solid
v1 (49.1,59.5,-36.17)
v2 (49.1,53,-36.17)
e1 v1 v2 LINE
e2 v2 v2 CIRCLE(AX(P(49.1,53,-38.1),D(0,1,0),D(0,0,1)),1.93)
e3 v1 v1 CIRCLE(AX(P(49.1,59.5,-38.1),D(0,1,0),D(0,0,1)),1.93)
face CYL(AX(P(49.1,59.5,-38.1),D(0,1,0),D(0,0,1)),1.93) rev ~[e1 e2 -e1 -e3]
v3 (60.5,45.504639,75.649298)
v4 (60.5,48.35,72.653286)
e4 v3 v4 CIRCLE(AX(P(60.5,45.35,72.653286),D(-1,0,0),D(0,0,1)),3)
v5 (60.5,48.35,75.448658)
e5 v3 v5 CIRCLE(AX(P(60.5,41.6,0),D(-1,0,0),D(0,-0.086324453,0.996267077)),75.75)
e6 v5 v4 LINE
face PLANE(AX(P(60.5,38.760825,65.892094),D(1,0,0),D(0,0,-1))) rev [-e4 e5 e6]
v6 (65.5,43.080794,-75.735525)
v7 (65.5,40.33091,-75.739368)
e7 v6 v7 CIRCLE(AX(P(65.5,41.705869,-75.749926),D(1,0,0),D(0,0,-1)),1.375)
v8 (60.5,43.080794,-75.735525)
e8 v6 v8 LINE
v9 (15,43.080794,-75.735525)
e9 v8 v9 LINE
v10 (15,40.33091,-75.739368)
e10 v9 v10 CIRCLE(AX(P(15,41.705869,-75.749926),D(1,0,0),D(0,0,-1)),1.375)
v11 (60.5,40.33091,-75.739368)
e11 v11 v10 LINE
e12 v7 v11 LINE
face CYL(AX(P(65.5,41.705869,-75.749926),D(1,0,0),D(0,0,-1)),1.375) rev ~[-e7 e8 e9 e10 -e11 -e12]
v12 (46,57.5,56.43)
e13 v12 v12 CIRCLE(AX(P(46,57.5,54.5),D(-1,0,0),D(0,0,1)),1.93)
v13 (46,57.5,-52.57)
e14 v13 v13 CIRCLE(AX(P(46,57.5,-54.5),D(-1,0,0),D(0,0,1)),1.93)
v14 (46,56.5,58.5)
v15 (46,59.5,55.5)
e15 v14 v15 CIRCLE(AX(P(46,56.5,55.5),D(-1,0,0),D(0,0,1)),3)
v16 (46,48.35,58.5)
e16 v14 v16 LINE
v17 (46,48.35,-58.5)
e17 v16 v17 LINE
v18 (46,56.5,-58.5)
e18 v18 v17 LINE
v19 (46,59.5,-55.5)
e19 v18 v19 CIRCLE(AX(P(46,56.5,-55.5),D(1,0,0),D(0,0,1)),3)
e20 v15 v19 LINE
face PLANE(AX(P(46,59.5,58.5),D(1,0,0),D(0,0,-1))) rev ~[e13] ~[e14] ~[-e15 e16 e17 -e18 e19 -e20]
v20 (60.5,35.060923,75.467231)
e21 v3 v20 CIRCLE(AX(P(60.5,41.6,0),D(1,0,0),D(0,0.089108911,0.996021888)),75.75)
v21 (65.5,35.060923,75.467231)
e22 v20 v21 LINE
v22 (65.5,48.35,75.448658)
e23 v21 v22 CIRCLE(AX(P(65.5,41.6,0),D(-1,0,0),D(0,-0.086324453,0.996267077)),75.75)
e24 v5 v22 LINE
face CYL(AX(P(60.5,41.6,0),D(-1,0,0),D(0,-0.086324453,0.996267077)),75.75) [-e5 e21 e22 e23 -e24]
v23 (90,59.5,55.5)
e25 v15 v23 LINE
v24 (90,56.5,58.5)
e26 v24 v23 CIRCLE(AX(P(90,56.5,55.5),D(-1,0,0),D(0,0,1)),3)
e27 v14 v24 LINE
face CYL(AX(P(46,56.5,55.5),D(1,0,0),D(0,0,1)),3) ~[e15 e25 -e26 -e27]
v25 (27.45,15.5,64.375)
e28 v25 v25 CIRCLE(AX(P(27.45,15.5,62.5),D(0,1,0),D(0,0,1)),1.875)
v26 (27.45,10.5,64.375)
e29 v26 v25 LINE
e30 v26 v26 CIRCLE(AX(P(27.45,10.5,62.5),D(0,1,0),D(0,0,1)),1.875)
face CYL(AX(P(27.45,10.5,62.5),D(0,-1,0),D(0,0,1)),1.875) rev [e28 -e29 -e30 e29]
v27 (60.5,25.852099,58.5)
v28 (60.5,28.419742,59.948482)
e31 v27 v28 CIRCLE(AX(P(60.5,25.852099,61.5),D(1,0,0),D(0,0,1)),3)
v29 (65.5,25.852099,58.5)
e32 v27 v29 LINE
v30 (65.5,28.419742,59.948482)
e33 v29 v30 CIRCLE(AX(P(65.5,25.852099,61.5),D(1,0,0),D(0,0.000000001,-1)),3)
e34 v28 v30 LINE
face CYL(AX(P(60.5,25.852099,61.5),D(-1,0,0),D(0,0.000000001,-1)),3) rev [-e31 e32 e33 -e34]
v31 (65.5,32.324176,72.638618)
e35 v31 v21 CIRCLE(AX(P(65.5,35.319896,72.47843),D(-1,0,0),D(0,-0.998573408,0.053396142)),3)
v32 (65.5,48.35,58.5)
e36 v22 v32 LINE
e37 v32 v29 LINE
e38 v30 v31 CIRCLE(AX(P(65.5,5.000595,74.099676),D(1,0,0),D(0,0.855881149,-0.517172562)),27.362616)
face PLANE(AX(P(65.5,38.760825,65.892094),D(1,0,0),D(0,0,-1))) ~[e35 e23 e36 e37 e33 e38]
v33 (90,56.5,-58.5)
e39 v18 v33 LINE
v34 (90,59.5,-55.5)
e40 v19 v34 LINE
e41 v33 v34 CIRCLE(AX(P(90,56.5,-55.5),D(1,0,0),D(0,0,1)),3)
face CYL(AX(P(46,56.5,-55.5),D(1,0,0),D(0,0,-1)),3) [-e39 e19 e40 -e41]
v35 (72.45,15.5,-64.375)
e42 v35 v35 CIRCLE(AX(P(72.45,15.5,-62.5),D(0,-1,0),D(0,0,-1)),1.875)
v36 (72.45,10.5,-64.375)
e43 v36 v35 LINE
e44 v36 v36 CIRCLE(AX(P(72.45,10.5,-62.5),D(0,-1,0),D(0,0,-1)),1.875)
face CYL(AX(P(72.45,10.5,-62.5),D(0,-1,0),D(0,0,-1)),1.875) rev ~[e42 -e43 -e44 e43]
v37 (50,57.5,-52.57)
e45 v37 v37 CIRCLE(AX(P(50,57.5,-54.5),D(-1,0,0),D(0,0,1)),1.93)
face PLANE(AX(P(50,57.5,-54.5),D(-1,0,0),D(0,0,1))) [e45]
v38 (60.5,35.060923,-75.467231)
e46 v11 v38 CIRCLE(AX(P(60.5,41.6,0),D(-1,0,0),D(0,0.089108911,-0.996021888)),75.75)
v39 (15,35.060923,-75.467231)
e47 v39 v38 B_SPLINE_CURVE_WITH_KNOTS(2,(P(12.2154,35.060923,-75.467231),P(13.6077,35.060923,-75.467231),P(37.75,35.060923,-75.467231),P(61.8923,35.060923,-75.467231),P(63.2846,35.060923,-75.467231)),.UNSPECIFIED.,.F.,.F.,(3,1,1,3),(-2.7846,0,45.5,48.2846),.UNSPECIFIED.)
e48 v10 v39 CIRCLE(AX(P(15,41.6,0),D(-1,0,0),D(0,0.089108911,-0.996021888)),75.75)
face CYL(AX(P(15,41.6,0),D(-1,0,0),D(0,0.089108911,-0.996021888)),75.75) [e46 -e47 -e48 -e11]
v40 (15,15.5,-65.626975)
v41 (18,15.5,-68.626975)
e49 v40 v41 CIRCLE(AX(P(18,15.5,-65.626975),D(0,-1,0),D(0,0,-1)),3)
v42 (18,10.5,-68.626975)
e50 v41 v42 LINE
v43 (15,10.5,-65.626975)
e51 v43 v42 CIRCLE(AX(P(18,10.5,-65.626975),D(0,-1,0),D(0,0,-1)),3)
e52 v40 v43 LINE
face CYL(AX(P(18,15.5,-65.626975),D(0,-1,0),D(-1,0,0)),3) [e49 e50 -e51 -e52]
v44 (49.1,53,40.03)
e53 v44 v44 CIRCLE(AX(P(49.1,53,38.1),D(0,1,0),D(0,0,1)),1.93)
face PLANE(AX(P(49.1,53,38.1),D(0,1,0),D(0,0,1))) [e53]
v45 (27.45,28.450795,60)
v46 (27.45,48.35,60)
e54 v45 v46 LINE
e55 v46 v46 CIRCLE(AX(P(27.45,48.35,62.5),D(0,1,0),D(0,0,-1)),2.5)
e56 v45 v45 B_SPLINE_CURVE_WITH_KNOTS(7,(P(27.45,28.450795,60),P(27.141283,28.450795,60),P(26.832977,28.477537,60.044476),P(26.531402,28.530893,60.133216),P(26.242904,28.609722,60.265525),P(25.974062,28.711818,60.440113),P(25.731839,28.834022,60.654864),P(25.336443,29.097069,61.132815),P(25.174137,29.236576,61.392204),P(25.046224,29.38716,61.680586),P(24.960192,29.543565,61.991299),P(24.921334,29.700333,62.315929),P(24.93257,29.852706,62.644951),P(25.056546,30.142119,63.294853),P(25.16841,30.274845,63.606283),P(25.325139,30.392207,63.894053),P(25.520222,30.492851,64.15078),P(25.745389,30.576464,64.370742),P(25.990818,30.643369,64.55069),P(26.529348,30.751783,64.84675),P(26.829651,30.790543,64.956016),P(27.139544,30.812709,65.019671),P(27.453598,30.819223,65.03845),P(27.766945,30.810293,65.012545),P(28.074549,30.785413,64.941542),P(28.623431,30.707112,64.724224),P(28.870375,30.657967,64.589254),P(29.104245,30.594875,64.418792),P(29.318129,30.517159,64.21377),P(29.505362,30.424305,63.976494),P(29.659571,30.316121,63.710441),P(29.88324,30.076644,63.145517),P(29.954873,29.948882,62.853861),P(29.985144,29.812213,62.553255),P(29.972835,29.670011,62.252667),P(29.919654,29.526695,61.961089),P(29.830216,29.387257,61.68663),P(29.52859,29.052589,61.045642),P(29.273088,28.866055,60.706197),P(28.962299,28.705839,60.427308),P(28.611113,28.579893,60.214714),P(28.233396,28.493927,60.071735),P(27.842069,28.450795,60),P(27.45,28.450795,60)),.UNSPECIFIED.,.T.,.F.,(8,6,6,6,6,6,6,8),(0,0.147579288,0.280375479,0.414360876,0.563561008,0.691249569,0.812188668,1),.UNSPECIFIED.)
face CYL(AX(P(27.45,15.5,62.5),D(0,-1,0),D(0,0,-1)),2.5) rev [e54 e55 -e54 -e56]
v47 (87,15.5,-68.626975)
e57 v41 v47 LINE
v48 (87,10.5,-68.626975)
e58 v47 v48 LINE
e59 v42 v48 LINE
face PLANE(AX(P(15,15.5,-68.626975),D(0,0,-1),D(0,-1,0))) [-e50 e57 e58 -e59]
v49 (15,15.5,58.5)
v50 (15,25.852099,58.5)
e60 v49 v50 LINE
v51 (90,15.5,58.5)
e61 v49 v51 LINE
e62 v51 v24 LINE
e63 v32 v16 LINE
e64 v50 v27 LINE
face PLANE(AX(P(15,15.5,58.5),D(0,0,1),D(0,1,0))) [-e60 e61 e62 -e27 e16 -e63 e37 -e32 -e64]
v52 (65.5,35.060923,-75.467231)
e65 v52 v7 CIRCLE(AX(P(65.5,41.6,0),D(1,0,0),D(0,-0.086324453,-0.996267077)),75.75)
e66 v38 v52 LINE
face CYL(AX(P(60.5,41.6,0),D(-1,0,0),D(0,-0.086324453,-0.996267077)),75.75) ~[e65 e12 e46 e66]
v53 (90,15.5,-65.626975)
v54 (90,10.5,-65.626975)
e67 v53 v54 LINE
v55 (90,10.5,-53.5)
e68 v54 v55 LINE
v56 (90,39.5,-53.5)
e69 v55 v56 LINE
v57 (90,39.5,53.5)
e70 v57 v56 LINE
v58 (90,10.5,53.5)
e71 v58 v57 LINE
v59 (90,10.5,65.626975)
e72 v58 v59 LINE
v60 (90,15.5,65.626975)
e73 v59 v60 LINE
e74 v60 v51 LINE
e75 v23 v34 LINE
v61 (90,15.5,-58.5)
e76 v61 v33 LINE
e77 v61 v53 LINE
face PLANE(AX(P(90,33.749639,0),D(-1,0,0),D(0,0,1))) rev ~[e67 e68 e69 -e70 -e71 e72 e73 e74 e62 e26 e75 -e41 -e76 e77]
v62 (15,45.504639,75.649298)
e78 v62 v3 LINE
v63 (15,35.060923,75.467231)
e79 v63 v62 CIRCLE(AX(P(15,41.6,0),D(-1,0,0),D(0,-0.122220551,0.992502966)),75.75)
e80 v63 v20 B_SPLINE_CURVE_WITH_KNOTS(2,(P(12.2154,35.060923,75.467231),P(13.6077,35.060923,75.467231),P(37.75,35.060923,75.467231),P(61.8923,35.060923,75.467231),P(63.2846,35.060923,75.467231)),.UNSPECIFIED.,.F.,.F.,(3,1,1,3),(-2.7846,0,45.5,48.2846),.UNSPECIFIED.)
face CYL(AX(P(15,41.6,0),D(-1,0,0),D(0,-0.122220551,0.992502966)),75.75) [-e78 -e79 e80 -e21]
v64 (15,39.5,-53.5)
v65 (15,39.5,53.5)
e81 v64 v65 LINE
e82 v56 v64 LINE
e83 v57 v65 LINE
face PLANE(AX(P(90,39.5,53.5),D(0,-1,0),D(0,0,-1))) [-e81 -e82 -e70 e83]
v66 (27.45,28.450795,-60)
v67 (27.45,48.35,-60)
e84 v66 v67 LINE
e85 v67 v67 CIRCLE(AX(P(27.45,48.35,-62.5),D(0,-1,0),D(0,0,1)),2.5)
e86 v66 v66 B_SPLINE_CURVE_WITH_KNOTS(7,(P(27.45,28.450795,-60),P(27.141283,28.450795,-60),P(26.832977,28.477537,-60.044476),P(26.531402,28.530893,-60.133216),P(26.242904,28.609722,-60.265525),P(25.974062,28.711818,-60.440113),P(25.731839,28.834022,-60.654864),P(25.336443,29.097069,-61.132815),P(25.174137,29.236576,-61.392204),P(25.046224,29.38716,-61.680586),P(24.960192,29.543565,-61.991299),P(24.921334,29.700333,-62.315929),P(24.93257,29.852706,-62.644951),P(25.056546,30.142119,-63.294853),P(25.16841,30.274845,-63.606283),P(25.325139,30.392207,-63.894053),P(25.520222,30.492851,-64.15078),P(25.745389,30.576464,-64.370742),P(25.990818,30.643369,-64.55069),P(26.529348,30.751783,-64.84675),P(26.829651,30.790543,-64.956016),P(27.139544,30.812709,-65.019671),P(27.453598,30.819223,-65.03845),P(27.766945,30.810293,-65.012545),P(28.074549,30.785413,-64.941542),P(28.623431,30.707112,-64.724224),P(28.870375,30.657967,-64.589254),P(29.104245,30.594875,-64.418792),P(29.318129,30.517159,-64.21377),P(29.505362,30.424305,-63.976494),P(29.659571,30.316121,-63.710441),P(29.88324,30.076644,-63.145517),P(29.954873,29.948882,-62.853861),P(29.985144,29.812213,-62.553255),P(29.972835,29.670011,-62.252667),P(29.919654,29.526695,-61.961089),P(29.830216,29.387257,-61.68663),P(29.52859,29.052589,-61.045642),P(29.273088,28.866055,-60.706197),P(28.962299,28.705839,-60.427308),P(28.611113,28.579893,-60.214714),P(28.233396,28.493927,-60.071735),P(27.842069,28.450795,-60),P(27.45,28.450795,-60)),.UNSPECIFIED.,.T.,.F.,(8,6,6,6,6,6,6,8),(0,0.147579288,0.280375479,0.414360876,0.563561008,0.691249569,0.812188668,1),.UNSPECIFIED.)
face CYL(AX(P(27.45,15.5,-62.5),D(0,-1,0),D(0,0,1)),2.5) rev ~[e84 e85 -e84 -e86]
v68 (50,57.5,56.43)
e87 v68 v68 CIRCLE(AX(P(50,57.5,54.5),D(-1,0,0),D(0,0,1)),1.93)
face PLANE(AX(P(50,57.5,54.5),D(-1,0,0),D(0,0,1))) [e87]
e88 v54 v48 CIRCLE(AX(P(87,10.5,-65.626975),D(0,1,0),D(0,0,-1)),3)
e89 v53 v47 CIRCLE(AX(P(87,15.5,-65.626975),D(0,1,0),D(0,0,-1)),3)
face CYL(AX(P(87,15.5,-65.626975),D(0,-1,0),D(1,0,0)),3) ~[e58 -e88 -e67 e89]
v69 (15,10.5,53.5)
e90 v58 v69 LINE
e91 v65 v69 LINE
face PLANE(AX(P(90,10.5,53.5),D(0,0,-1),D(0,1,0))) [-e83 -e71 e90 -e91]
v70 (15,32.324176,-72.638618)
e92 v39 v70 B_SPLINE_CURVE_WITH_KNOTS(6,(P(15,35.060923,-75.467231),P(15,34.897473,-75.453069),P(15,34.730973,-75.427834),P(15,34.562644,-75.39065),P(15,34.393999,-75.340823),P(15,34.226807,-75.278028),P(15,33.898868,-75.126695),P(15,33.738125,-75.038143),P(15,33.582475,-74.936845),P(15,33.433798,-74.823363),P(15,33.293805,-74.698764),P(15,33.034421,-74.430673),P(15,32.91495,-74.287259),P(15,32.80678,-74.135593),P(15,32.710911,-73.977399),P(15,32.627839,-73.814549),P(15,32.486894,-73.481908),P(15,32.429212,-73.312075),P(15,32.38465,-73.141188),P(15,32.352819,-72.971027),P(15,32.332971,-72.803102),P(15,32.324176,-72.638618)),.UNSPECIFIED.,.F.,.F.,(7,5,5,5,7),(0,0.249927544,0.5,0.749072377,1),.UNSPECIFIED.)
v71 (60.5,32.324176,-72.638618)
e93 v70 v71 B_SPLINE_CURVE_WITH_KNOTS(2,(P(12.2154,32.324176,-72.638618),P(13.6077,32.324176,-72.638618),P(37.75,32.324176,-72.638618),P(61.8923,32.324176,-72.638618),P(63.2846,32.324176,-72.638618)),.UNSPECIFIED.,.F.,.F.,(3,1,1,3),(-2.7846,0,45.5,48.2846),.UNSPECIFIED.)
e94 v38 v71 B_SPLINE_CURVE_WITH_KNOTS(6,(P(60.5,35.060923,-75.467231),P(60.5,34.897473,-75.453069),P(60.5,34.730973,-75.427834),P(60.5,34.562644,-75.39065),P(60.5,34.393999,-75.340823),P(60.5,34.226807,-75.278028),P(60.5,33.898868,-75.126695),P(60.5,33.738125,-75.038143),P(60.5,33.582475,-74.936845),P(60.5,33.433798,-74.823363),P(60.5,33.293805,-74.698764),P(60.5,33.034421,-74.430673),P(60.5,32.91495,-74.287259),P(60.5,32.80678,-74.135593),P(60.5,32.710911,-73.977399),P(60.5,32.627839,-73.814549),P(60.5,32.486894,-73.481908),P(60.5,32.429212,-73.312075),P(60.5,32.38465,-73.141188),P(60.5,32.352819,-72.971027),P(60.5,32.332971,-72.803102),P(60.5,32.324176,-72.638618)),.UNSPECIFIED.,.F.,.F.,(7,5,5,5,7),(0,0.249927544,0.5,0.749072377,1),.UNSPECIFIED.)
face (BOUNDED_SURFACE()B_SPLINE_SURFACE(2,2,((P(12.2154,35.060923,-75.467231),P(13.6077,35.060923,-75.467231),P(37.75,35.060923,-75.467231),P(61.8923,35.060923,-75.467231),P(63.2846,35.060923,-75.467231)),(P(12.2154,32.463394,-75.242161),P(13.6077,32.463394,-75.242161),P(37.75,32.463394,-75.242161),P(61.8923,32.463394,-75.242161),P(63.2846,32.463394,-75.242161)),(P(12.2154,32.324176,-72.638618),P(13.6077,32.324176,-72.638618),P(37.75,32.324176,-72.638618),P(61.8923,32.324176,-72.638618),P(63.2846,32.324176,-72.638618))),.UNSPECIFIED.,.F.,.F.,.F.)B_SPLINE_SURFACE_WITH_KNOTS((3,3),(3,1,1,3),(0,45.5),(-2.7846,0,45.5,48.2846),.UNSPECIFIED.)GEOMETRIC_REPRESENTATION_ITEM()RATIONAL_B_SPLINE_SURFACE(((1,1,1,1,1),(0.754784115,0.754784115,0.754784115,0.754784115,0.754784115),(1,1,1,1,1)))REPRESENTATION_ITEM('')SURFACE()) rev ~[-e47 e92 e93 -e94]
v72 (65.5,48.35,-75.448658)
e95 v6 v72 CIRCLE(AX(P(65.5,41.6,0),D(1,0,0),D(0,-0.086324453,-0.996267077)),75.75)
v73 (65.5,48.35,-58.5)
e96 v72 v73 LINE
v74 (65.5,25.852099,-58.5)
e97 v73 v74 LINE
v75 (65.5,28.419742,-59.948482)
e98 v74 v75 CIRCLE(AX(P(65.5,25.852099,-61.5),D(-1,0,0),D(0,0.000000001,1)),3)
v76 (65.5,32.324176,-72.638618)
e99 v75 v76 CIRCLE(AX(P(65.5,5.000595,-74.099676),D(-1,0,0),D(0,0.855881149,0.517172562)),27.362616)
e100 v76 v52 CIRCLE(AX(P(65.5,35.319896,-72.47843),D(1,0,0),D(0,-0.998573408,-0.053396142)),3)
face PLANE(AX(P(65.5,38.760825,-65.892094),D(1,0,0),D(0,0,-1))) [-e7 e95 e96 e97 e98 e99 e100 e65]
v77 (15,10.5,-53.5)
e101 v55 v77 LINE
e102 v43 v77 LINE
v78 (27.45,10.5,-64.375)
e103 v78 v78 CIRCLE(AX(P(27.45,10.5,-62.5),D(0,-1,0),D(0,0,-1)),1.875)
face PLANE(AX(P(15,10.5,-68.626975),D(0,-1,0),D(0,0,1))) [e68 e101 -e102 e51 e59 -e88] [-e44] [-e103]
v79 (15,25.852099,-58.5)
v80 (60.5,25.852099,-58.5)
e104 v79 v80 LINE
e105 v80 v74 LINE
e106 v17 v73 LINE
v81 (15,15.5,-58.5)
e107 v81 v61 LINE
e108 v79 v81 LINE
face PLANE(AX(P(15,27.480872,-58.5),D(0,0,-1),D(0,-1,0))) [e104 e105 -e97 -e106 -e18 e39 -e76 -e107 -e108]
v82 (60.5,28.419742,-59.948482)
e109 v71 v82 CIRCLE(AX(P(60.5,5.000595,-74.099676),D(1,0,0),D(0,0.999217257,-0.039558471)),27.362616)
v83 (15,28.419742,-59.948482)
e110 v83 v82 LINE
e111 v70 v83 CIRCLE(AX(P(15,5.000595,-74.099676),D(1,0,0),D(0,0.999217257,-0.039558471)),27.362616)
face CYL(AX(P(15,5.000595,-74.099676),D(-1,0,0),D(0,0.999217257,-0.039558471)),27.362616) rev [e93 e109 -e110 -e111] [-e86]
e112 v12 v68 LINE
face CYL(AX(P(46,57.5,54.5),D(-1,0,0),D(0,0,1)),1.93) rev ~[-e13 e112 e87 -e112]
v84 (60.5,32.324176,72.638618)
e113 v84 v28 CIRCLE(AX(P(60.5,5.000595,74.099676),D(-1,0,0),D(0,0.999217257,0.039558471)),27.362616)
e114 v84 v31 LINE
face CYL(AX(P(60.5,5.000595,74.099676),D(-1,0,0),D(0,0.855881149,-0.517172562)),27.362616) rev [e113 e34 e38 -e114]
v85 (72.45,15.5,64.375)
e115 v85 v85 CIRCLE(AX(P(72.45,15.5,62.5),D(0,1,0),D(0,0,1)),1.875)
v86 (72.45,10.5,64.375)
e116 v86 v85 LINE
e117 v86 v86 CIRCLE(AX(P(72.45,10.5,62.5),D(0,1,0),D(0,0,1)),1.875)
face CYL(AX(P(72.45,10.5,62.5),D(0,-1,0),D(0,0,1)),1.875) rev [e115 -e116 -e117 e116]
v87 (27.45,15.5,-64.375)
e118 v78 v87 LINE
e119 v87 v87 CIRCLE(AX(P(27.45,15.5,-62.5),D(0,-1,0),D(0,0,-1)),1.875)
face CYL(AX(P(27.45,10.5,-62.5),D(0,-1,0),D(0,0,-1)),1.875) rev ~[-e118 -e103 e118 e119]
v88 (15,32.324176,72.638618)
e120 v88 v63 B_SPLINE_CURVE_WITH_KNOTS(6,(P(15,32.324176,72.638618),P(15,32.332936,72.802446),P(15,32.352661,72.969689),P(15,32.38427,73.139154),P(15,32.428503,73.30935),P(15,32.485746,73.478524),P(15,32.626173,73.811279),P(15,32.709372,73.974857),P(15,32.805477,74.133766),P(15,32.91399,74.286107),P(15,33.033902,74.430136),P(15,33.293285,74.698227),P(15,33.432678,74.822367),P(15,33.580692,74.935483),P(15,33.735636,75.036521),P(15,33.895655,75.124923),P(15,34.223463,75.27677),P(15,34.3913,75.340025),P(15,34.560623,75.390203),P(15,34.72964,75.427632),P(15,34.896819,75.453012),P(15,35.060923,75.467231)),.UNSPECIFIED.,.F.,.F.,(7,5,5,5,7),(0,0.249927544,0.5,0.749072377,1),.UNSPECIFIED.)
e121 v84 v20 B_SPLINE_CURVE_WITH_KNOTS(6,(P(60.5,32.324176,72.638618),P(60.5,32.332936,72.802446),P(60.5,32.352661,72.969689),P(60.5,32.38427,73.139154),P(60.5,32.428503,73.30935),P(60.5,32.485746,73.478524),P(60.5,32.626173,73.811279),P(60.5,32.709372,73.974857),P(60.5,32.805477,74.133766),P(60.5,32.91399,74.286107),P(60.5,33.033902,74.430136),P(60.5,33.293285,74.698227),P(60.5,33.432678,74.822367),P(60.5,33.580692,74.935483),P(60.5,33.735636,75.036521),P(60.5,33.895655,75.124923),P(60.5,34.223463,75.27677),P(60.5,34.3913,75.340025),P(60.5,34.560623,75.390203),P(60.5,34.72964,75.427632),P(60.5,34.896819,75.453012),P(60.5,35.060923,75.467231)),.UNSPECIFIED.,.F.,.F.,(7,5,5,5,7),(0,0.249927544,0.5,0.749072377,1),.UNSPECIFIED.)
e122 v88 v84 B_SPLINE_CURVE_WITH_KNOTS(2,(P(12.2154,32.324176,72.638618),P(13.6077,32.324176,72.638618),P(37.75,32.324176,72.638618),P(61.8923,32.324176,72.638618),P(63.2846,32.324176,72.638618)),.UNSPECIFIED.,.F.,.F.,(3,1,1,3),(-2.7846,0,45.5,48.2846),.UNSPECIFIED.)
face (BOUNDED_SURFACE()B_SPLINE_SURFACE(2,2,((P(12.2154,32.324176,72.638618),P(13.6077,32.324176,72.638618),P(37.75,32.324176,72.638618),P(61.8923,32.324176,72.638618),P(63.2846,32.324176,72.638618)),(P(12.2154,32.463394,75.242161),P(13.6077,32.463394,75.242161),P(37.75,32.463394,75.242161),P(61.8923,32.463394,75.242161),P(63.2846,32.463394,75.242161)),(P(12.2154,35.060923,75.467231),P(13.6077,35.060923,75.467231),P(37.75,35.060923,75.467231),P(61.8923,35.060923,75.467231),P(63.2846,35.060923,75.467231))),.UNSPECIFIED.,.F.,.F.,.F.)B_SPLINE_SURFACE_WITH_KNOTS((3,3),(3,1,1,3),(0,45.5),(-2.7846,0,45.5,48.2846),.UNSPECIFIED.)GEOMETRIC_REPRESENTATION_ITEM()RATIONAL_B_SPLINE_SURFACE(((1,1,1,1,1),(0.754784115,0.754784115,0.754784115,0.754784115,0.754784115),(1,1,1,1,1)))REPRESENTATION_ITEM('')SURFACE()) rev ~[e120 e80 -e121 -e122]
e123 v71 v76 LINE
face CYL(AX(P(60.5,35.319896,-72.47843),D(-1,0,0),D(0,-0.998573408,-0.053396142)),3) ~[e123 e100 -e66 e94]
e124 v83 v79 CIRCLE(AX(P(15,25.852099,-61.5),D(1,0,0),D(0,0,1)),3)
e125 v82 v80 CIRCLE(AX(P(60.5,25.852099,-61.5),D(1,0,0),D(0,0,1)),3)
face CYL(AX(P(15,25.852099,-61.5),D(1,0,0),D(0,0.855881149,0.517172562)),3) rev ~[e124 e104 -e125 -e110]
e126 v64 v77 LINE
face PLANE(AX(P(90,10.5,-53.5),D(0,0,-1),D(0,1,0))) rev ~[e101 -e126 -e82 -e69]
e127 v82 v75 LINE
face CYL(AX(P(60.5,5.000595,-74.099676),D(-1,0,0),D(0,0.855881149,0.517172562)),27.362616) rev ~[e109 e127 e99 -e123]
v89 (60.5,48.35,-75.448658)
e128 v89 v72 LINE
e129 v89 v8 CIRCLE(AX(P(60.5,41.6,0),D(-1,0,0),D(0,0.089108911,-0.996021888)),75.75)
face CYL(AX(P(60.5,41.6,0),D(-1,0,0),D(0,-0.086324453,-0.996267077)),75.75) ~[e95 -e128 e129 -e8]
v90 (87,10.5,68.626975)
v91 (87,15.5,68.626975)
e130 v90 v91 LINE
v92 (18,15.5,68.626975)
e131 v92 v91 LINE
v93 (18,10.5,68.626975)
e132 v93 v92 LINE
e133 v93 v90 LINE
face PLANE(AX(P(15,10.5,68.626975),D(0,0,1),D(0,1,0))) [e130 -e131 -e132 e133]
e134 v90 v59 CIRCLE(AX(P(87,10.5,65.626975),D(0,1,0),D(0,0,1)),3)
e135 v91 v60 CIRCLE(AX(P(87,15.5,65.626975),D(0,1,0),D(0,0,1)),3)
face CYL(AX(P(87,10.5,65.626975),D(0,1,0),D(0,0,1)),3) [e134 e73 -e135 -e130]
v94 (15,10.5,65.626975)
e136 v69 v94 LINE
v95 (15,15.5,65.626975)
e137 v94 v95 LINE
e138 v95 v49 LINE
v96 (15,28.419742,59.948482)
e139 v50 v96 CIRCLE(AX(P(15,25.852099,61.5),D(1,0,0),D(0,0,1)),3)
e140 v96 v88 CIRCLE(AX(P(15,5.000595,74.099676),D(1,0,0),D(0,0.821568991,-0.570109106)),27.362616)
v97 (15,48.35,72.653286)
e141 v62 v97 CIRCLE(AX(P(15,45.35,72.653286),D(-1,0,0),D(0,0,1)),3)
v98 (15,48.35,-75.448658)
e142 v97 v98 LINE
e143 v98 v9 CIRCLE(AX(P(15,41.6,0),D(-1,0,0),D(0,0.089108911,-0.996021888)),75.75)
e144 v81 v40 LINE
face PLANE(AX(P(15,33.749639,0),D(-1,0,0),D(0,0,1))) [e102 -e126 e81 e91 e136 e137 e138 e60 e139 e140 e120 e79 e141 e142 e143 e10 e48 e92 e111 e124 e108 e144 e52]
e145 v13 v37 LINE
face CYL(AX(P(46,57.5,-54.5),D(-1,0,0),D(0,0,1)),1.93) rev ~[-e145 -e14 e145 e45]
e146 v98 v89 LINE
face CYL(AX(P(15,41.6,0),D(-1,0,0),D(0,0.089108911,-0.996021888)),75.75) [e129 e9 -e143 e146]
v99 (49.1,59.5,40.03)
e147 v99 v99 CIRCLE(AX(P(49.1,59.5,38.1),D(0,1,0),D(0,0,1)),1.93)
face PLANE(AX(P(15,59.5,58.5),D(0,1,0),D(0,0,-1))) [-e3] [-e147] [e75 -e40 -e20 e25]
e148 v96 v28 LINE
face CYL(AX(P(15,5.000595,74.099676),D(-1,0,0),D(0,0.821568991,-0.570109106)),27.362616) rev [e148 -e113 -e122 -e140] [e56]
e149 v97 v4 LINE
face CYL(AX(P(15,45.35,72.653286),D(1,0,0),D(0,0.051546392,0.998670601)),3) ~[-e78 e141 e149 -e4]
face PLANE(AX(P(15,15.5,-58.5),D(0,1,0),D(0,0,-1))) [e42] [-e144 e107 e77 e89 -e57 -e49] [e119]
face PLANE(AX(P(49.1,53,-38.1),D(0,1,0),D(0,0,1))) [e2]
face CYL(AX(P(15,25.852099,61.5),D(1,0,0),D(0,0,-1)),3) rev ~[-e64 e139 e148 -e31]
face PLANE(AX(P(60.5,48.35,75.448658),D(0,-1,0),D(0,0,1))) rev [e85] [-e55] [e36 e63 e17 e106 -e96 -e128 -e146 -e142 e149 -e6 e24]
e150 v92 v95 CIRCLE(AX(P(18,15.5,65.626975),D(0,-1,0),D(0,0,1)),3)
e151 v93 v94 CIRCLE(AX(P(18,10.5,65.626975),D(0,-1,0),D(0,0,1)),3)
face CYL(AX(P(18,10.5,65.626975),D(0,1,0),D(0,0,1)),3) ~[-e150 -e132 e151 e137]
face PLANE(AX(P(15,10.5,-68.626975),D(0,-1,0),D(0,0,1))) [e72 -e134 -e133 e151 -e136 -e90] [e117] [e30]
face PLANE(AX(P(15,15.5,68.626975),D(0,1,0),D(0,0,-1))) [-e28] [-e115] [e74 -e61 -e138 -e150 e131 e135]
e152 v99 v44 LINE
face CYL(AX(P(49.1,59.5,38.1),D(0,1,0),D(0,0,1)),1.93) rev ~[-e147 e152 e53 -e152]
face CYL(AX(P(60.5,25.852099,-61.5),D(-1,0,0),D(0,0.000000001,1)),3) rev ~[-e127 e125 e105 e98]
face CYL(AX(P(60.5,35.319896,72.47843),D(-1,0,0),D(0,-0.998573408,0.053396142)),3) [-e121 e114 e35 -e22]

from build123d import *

# Parameters (mm, degrees)
BOSS_EXTRUDE1_START = 15
BOSS_EXTRUDE1_DEPTH = 75
SKETCH2_W           = 107
SKETCH2_H           = 29
CUT_EXTRUDE1_DEPTH  = 123.079123932
CUT_EXTRUDE12_START = -29.5
CUT_EXTRUDE12_DEPTH = 29.5
SKETCH16_R          = 1.875
CUT_EXTRUDE13_DEPTH = 5
SKETCH17_W          = 46
SKETCH17_H          = 117
CUT_EXTRUDE14_DEPTH = 11.15
SKETCH14_R          = 1.93
CUT_EXTRUDE10_DEPTH = 6.5
FILLET1_R           = 3
BOSS_EXTRUDE3_DEPTH = 5
SKETCH21_R          = 1.375
CUT_EXTRUDE15_DEPTH = 50.5
SKETCH22_R          = 2.5
CUT_EXTRUDE16_DEPTH = 32.85
SKETCH23_R          = 1.93
CUT_EXTRUDE17_DEPTH = 4


with BuildPart() as part:
    # Sketch1 → Boss-Extrude1 (new body)
    with BuildSketch(Plane(origin=(0, 0, 0), x_dir=(0, 0, -1), z_dir=(1, 0, 0)).offset(BOSS_EXTRUDE1_START)):
        with BuildLine():
            Line((-68.626974957, 15.5), (-58.5, 15.5))
            Line((-58.5, 15.5), (-58.5, 27.48087198))
            ThreePointArc((-58.5, 27.48087198), (-66.444952459, 31.270691326), (-75.182099647, 32.341793222))
            ThreePointArc((-75.182099647, 32.341793222), (-75.739500667, 40.338834406), (-75.44865804, 48.35))
            Line((-75.44865804, 48.35), (-58.5, 48.35))
            Line((-58.5, 48.35), (-58.5, 59.5))
            Line((-58.5, 59.5), (58.5, 59.5))
            Line((58.5, 59.5), (58.5, 48.35))
            Line((58.5, 48.35), (75.44865804, 48.35))
            ThreePointArc((75.44865804, 48.35), (75.739500667, 40.338834406), (75.182099647, 32.341793222))
            ThreePointArc((75.182099647, 32.341793222), (66.444952459, 31.270691326), (58.5, 27.48087198))
            Line((58.5, 27.48087198), (58.5, 15.5))
            Line((58.5, 15.5), (68.626974957, 15.5))
            Line((68.626974957, 15.5), (68.626974957, 10.5))
            Line((68.626974957, 10.5), (-68.626974957, 10.5))
            Line((-68.626974957, 10.5), (-68.626974957, 15.5))
        make_face()
    extrude(amount=BOSS_EXTRUDE1_DEPTH)

    # Sketch2 → Cut-Extrude1 (cut, through all)
    with BuildSketch(Plane(origin=(90, 0, 0), x_dir=(0, 0, -1), z_dir=(1, 0, 0))):
        with Locations((0, 25)):
            Rectangle(SKETCH2_W, SKETCH2_H)
    extrude(amount=-CUT_EXTRUDE1_DEPTH, mode=Mode.SUBTRACT)

    # Sketch9 → Cut-Extrude12 (cut)
    with BuildSketch(Plane(origin=(90, 0, 0), x_dir=(0, 0, -1), z_dir=(1, 0, 0)).offset(CUT_EXTRUDE12_START)):
        with BuildLine():
            Line((-58.5, 27.48087198), (-58.5, 48.35))
            Line((-58.5, 48.35), (-75.44865804, 48.35))
            ThreePointArc((-75.44865804, 48.35), (-75.739500667, 40.338834406), (-75.182099647, 32.341793222))
            ThreePointArc((-75.182099647, 32.341793222), (-66.444952459, 31.270691326), (-58.5, 27.48087198))
        make_face()
        with BuildLine():
            Line((58.5, 27.48087198), (58.5, 48.35))
            Line((58.5, 48.35), (75.44865804, 48.35))
            ThreePointArc((75.44865804, 48.35), (75.739500667, 40.338834406), (75.182099647, 32.341793222))
            ThreePointArc((75.182099647, 32.341793222), (66.444952459, 31.270691326), (58.5, 27.48087198))
        make_face()
    extrude(amount=CUT_EXTRUDE12_DEPTH, mode=Mode.SUBTRACT)

    # Sketch16 → Cut-Extrude13 (cut)
    with BuildSketch(Plane.XZ.offset(-10.5)):
        with Locations(Location((27.45, -62.5, 0), (0, 0, 270))):
            Circle(SKETCH16_R)
        with Locations(Location((72.45, -62.5, 0), (0, 0, 270))):
            Circle(SKETCH16_R)
    cut_extrude13 = extrude(amount=-CUT_EXTRUDE13_DEPTH, mode=Mode.SUBTRACT)

    # Mirror2: Cut-Extrude13 across plane
    add(cut_extrude13.mirror(Plane.XY), mode=Mode.SUBTRACT)

    # Sketch17 → Cut-Extrude14 (cut)
    with BuildSketch(Plane(origin=(0, 59.5, 0), x_dir=(1, 0, 0), z_dir=(0, 1, 0))):
        with Locations((23, 0)):
            Rectangle(SKETCH17_W, SKETCH17_H)
    extrude(amount=-CUT_EXTRUDE14_DEPTH, mode=Mode.SUBTRACT)

    # Sketch14 → Cut-Extrude10 (cut)
    with BuildSketch(Plane(origin=(0, 59.5, 0), x_dir=(1, 0, 0), z_dir=(0, 1, 0))):
        with Locations(Location((49.1, 38.1, 0), (0, 0, 270))):
            Circle(SKETCH14_R)
        with Locations(Location((49.1, -38.1, 0), (0, 0, 270))):
            Circle(SKETCH14_R)
    extrude(amount=-CUT_EXTRUDE10_DEPTH, mode=Mode.SUBTRACT)

    # Fillet1
    fillet1_edges = [part.edges().sort_by_distance(p)[0] for p in [
        (90, 13, 68.626974957),
        (15, 13, -68.626974957),
        (15, 13, 68.626974957),
        (68, 59.5, 58.5),
        (68, 59.5, -58.5),
        (90, 13, -68.626974957),
        (37.75, 32.341793222, 75.182099647),
        (37.75, 48.35, 75.44865804),
        (37.75, 32.341793222, -75.182099647),
        (37.75, 27.48087198, -58.5),
        (37.75, 27.48087198, 58.5),
    ]]
    fillet(fillet1_edges, radius=FILLET1_R)

    # Sketch20 → Boss-Extrude3 (add)
    with BuildSketch(Plane(origin=(60.5, 0, 0), x_dir=(0, 0, -1), z_dir=(1, 0, 0))):
        with BuildLine():
            Line((75.44865804, 48.35), (58.5, 48.35))
            Line((58.5, 48.35), (58.5, 25.852098922))
            ThreePointArc((58.5, 25.852098922), (58.887094237, 27.326115025), (59.948482315, 28.41974237))
            ThreePointArc((59.948482315, 28.41974237), (66.053139575, 31.15333873), (72.638618282, 32.324175832))
            ThreePointArc((72.638618282, 32.324175832), (74.564449947, 33.163853344), (75.467231088, 35.060922699))
            ThreePointArc((75.467231088, 35.060922699), (75.749926018, 41.705869428), (75.44865804, 48.35))
        make_face()
    boss_extrude3 = extrude(amount=BOSS_EXTRUDE3_DEPTH)

    # Mirror4: Boss-Extrude3 across plane
    add(boss_extrude3.mirror(Plane.XY))

    # Sketch21 → Cut-Extrude15 (cut)
    with BuildSketch(Plane(origin=(65.5, 0, 0), x_dir=(0, 0, -1), z_dir=(1, 0, 0))):
        with Locations((75.749926018, 41.705869428)):
            Circle(SKETCH21_R)
    extrude(amount=-CUT_EXTRUDE15_DEPTH, mode=Mode.SUBTRACT)

    # Sketch22 → Cut-Extrude16 (cut)
    with BuildSketch(Plane(origin=(0, 15.5, 0), x_dir=(1, 0, 0), z_dir=(0, 1, 0))):
        with Locations(Location((27.45, -62.5, 0), (0, 0, 90))):
            Circle(SKETCH22_R)
    cut_extrude16 = extrude(amount=CUT_EXTRUDE16_DEPTH, mode=Mode.SUBTRACT)

    # Mirror5: Cut-Extrude16 across plane
    add(cut_extrude16.mirror(Plane.XY), mode=Mode.SUBTRACT)

    # Sketch23 → Cut-Extrude17 (cut)
    with BuildSketch(Plane(origin=(46, 2.35, 0), x_dir=(0, 1, 0), z_dir=(-1, 0, 0))):
        with Locations(Location((55.15, 54.5, 0), (0, 0, 270))):
            Circle(SKETCH23_R)
        with Locations(Location((55.15, -54.5, 0), (0, 0, 270))):
            Circle(SKETCH23_R)
    extrude(amount=-CUT_EXTRUDE17_DEPTH, mode=Mode.SUBTRACT)


solid = part.part
